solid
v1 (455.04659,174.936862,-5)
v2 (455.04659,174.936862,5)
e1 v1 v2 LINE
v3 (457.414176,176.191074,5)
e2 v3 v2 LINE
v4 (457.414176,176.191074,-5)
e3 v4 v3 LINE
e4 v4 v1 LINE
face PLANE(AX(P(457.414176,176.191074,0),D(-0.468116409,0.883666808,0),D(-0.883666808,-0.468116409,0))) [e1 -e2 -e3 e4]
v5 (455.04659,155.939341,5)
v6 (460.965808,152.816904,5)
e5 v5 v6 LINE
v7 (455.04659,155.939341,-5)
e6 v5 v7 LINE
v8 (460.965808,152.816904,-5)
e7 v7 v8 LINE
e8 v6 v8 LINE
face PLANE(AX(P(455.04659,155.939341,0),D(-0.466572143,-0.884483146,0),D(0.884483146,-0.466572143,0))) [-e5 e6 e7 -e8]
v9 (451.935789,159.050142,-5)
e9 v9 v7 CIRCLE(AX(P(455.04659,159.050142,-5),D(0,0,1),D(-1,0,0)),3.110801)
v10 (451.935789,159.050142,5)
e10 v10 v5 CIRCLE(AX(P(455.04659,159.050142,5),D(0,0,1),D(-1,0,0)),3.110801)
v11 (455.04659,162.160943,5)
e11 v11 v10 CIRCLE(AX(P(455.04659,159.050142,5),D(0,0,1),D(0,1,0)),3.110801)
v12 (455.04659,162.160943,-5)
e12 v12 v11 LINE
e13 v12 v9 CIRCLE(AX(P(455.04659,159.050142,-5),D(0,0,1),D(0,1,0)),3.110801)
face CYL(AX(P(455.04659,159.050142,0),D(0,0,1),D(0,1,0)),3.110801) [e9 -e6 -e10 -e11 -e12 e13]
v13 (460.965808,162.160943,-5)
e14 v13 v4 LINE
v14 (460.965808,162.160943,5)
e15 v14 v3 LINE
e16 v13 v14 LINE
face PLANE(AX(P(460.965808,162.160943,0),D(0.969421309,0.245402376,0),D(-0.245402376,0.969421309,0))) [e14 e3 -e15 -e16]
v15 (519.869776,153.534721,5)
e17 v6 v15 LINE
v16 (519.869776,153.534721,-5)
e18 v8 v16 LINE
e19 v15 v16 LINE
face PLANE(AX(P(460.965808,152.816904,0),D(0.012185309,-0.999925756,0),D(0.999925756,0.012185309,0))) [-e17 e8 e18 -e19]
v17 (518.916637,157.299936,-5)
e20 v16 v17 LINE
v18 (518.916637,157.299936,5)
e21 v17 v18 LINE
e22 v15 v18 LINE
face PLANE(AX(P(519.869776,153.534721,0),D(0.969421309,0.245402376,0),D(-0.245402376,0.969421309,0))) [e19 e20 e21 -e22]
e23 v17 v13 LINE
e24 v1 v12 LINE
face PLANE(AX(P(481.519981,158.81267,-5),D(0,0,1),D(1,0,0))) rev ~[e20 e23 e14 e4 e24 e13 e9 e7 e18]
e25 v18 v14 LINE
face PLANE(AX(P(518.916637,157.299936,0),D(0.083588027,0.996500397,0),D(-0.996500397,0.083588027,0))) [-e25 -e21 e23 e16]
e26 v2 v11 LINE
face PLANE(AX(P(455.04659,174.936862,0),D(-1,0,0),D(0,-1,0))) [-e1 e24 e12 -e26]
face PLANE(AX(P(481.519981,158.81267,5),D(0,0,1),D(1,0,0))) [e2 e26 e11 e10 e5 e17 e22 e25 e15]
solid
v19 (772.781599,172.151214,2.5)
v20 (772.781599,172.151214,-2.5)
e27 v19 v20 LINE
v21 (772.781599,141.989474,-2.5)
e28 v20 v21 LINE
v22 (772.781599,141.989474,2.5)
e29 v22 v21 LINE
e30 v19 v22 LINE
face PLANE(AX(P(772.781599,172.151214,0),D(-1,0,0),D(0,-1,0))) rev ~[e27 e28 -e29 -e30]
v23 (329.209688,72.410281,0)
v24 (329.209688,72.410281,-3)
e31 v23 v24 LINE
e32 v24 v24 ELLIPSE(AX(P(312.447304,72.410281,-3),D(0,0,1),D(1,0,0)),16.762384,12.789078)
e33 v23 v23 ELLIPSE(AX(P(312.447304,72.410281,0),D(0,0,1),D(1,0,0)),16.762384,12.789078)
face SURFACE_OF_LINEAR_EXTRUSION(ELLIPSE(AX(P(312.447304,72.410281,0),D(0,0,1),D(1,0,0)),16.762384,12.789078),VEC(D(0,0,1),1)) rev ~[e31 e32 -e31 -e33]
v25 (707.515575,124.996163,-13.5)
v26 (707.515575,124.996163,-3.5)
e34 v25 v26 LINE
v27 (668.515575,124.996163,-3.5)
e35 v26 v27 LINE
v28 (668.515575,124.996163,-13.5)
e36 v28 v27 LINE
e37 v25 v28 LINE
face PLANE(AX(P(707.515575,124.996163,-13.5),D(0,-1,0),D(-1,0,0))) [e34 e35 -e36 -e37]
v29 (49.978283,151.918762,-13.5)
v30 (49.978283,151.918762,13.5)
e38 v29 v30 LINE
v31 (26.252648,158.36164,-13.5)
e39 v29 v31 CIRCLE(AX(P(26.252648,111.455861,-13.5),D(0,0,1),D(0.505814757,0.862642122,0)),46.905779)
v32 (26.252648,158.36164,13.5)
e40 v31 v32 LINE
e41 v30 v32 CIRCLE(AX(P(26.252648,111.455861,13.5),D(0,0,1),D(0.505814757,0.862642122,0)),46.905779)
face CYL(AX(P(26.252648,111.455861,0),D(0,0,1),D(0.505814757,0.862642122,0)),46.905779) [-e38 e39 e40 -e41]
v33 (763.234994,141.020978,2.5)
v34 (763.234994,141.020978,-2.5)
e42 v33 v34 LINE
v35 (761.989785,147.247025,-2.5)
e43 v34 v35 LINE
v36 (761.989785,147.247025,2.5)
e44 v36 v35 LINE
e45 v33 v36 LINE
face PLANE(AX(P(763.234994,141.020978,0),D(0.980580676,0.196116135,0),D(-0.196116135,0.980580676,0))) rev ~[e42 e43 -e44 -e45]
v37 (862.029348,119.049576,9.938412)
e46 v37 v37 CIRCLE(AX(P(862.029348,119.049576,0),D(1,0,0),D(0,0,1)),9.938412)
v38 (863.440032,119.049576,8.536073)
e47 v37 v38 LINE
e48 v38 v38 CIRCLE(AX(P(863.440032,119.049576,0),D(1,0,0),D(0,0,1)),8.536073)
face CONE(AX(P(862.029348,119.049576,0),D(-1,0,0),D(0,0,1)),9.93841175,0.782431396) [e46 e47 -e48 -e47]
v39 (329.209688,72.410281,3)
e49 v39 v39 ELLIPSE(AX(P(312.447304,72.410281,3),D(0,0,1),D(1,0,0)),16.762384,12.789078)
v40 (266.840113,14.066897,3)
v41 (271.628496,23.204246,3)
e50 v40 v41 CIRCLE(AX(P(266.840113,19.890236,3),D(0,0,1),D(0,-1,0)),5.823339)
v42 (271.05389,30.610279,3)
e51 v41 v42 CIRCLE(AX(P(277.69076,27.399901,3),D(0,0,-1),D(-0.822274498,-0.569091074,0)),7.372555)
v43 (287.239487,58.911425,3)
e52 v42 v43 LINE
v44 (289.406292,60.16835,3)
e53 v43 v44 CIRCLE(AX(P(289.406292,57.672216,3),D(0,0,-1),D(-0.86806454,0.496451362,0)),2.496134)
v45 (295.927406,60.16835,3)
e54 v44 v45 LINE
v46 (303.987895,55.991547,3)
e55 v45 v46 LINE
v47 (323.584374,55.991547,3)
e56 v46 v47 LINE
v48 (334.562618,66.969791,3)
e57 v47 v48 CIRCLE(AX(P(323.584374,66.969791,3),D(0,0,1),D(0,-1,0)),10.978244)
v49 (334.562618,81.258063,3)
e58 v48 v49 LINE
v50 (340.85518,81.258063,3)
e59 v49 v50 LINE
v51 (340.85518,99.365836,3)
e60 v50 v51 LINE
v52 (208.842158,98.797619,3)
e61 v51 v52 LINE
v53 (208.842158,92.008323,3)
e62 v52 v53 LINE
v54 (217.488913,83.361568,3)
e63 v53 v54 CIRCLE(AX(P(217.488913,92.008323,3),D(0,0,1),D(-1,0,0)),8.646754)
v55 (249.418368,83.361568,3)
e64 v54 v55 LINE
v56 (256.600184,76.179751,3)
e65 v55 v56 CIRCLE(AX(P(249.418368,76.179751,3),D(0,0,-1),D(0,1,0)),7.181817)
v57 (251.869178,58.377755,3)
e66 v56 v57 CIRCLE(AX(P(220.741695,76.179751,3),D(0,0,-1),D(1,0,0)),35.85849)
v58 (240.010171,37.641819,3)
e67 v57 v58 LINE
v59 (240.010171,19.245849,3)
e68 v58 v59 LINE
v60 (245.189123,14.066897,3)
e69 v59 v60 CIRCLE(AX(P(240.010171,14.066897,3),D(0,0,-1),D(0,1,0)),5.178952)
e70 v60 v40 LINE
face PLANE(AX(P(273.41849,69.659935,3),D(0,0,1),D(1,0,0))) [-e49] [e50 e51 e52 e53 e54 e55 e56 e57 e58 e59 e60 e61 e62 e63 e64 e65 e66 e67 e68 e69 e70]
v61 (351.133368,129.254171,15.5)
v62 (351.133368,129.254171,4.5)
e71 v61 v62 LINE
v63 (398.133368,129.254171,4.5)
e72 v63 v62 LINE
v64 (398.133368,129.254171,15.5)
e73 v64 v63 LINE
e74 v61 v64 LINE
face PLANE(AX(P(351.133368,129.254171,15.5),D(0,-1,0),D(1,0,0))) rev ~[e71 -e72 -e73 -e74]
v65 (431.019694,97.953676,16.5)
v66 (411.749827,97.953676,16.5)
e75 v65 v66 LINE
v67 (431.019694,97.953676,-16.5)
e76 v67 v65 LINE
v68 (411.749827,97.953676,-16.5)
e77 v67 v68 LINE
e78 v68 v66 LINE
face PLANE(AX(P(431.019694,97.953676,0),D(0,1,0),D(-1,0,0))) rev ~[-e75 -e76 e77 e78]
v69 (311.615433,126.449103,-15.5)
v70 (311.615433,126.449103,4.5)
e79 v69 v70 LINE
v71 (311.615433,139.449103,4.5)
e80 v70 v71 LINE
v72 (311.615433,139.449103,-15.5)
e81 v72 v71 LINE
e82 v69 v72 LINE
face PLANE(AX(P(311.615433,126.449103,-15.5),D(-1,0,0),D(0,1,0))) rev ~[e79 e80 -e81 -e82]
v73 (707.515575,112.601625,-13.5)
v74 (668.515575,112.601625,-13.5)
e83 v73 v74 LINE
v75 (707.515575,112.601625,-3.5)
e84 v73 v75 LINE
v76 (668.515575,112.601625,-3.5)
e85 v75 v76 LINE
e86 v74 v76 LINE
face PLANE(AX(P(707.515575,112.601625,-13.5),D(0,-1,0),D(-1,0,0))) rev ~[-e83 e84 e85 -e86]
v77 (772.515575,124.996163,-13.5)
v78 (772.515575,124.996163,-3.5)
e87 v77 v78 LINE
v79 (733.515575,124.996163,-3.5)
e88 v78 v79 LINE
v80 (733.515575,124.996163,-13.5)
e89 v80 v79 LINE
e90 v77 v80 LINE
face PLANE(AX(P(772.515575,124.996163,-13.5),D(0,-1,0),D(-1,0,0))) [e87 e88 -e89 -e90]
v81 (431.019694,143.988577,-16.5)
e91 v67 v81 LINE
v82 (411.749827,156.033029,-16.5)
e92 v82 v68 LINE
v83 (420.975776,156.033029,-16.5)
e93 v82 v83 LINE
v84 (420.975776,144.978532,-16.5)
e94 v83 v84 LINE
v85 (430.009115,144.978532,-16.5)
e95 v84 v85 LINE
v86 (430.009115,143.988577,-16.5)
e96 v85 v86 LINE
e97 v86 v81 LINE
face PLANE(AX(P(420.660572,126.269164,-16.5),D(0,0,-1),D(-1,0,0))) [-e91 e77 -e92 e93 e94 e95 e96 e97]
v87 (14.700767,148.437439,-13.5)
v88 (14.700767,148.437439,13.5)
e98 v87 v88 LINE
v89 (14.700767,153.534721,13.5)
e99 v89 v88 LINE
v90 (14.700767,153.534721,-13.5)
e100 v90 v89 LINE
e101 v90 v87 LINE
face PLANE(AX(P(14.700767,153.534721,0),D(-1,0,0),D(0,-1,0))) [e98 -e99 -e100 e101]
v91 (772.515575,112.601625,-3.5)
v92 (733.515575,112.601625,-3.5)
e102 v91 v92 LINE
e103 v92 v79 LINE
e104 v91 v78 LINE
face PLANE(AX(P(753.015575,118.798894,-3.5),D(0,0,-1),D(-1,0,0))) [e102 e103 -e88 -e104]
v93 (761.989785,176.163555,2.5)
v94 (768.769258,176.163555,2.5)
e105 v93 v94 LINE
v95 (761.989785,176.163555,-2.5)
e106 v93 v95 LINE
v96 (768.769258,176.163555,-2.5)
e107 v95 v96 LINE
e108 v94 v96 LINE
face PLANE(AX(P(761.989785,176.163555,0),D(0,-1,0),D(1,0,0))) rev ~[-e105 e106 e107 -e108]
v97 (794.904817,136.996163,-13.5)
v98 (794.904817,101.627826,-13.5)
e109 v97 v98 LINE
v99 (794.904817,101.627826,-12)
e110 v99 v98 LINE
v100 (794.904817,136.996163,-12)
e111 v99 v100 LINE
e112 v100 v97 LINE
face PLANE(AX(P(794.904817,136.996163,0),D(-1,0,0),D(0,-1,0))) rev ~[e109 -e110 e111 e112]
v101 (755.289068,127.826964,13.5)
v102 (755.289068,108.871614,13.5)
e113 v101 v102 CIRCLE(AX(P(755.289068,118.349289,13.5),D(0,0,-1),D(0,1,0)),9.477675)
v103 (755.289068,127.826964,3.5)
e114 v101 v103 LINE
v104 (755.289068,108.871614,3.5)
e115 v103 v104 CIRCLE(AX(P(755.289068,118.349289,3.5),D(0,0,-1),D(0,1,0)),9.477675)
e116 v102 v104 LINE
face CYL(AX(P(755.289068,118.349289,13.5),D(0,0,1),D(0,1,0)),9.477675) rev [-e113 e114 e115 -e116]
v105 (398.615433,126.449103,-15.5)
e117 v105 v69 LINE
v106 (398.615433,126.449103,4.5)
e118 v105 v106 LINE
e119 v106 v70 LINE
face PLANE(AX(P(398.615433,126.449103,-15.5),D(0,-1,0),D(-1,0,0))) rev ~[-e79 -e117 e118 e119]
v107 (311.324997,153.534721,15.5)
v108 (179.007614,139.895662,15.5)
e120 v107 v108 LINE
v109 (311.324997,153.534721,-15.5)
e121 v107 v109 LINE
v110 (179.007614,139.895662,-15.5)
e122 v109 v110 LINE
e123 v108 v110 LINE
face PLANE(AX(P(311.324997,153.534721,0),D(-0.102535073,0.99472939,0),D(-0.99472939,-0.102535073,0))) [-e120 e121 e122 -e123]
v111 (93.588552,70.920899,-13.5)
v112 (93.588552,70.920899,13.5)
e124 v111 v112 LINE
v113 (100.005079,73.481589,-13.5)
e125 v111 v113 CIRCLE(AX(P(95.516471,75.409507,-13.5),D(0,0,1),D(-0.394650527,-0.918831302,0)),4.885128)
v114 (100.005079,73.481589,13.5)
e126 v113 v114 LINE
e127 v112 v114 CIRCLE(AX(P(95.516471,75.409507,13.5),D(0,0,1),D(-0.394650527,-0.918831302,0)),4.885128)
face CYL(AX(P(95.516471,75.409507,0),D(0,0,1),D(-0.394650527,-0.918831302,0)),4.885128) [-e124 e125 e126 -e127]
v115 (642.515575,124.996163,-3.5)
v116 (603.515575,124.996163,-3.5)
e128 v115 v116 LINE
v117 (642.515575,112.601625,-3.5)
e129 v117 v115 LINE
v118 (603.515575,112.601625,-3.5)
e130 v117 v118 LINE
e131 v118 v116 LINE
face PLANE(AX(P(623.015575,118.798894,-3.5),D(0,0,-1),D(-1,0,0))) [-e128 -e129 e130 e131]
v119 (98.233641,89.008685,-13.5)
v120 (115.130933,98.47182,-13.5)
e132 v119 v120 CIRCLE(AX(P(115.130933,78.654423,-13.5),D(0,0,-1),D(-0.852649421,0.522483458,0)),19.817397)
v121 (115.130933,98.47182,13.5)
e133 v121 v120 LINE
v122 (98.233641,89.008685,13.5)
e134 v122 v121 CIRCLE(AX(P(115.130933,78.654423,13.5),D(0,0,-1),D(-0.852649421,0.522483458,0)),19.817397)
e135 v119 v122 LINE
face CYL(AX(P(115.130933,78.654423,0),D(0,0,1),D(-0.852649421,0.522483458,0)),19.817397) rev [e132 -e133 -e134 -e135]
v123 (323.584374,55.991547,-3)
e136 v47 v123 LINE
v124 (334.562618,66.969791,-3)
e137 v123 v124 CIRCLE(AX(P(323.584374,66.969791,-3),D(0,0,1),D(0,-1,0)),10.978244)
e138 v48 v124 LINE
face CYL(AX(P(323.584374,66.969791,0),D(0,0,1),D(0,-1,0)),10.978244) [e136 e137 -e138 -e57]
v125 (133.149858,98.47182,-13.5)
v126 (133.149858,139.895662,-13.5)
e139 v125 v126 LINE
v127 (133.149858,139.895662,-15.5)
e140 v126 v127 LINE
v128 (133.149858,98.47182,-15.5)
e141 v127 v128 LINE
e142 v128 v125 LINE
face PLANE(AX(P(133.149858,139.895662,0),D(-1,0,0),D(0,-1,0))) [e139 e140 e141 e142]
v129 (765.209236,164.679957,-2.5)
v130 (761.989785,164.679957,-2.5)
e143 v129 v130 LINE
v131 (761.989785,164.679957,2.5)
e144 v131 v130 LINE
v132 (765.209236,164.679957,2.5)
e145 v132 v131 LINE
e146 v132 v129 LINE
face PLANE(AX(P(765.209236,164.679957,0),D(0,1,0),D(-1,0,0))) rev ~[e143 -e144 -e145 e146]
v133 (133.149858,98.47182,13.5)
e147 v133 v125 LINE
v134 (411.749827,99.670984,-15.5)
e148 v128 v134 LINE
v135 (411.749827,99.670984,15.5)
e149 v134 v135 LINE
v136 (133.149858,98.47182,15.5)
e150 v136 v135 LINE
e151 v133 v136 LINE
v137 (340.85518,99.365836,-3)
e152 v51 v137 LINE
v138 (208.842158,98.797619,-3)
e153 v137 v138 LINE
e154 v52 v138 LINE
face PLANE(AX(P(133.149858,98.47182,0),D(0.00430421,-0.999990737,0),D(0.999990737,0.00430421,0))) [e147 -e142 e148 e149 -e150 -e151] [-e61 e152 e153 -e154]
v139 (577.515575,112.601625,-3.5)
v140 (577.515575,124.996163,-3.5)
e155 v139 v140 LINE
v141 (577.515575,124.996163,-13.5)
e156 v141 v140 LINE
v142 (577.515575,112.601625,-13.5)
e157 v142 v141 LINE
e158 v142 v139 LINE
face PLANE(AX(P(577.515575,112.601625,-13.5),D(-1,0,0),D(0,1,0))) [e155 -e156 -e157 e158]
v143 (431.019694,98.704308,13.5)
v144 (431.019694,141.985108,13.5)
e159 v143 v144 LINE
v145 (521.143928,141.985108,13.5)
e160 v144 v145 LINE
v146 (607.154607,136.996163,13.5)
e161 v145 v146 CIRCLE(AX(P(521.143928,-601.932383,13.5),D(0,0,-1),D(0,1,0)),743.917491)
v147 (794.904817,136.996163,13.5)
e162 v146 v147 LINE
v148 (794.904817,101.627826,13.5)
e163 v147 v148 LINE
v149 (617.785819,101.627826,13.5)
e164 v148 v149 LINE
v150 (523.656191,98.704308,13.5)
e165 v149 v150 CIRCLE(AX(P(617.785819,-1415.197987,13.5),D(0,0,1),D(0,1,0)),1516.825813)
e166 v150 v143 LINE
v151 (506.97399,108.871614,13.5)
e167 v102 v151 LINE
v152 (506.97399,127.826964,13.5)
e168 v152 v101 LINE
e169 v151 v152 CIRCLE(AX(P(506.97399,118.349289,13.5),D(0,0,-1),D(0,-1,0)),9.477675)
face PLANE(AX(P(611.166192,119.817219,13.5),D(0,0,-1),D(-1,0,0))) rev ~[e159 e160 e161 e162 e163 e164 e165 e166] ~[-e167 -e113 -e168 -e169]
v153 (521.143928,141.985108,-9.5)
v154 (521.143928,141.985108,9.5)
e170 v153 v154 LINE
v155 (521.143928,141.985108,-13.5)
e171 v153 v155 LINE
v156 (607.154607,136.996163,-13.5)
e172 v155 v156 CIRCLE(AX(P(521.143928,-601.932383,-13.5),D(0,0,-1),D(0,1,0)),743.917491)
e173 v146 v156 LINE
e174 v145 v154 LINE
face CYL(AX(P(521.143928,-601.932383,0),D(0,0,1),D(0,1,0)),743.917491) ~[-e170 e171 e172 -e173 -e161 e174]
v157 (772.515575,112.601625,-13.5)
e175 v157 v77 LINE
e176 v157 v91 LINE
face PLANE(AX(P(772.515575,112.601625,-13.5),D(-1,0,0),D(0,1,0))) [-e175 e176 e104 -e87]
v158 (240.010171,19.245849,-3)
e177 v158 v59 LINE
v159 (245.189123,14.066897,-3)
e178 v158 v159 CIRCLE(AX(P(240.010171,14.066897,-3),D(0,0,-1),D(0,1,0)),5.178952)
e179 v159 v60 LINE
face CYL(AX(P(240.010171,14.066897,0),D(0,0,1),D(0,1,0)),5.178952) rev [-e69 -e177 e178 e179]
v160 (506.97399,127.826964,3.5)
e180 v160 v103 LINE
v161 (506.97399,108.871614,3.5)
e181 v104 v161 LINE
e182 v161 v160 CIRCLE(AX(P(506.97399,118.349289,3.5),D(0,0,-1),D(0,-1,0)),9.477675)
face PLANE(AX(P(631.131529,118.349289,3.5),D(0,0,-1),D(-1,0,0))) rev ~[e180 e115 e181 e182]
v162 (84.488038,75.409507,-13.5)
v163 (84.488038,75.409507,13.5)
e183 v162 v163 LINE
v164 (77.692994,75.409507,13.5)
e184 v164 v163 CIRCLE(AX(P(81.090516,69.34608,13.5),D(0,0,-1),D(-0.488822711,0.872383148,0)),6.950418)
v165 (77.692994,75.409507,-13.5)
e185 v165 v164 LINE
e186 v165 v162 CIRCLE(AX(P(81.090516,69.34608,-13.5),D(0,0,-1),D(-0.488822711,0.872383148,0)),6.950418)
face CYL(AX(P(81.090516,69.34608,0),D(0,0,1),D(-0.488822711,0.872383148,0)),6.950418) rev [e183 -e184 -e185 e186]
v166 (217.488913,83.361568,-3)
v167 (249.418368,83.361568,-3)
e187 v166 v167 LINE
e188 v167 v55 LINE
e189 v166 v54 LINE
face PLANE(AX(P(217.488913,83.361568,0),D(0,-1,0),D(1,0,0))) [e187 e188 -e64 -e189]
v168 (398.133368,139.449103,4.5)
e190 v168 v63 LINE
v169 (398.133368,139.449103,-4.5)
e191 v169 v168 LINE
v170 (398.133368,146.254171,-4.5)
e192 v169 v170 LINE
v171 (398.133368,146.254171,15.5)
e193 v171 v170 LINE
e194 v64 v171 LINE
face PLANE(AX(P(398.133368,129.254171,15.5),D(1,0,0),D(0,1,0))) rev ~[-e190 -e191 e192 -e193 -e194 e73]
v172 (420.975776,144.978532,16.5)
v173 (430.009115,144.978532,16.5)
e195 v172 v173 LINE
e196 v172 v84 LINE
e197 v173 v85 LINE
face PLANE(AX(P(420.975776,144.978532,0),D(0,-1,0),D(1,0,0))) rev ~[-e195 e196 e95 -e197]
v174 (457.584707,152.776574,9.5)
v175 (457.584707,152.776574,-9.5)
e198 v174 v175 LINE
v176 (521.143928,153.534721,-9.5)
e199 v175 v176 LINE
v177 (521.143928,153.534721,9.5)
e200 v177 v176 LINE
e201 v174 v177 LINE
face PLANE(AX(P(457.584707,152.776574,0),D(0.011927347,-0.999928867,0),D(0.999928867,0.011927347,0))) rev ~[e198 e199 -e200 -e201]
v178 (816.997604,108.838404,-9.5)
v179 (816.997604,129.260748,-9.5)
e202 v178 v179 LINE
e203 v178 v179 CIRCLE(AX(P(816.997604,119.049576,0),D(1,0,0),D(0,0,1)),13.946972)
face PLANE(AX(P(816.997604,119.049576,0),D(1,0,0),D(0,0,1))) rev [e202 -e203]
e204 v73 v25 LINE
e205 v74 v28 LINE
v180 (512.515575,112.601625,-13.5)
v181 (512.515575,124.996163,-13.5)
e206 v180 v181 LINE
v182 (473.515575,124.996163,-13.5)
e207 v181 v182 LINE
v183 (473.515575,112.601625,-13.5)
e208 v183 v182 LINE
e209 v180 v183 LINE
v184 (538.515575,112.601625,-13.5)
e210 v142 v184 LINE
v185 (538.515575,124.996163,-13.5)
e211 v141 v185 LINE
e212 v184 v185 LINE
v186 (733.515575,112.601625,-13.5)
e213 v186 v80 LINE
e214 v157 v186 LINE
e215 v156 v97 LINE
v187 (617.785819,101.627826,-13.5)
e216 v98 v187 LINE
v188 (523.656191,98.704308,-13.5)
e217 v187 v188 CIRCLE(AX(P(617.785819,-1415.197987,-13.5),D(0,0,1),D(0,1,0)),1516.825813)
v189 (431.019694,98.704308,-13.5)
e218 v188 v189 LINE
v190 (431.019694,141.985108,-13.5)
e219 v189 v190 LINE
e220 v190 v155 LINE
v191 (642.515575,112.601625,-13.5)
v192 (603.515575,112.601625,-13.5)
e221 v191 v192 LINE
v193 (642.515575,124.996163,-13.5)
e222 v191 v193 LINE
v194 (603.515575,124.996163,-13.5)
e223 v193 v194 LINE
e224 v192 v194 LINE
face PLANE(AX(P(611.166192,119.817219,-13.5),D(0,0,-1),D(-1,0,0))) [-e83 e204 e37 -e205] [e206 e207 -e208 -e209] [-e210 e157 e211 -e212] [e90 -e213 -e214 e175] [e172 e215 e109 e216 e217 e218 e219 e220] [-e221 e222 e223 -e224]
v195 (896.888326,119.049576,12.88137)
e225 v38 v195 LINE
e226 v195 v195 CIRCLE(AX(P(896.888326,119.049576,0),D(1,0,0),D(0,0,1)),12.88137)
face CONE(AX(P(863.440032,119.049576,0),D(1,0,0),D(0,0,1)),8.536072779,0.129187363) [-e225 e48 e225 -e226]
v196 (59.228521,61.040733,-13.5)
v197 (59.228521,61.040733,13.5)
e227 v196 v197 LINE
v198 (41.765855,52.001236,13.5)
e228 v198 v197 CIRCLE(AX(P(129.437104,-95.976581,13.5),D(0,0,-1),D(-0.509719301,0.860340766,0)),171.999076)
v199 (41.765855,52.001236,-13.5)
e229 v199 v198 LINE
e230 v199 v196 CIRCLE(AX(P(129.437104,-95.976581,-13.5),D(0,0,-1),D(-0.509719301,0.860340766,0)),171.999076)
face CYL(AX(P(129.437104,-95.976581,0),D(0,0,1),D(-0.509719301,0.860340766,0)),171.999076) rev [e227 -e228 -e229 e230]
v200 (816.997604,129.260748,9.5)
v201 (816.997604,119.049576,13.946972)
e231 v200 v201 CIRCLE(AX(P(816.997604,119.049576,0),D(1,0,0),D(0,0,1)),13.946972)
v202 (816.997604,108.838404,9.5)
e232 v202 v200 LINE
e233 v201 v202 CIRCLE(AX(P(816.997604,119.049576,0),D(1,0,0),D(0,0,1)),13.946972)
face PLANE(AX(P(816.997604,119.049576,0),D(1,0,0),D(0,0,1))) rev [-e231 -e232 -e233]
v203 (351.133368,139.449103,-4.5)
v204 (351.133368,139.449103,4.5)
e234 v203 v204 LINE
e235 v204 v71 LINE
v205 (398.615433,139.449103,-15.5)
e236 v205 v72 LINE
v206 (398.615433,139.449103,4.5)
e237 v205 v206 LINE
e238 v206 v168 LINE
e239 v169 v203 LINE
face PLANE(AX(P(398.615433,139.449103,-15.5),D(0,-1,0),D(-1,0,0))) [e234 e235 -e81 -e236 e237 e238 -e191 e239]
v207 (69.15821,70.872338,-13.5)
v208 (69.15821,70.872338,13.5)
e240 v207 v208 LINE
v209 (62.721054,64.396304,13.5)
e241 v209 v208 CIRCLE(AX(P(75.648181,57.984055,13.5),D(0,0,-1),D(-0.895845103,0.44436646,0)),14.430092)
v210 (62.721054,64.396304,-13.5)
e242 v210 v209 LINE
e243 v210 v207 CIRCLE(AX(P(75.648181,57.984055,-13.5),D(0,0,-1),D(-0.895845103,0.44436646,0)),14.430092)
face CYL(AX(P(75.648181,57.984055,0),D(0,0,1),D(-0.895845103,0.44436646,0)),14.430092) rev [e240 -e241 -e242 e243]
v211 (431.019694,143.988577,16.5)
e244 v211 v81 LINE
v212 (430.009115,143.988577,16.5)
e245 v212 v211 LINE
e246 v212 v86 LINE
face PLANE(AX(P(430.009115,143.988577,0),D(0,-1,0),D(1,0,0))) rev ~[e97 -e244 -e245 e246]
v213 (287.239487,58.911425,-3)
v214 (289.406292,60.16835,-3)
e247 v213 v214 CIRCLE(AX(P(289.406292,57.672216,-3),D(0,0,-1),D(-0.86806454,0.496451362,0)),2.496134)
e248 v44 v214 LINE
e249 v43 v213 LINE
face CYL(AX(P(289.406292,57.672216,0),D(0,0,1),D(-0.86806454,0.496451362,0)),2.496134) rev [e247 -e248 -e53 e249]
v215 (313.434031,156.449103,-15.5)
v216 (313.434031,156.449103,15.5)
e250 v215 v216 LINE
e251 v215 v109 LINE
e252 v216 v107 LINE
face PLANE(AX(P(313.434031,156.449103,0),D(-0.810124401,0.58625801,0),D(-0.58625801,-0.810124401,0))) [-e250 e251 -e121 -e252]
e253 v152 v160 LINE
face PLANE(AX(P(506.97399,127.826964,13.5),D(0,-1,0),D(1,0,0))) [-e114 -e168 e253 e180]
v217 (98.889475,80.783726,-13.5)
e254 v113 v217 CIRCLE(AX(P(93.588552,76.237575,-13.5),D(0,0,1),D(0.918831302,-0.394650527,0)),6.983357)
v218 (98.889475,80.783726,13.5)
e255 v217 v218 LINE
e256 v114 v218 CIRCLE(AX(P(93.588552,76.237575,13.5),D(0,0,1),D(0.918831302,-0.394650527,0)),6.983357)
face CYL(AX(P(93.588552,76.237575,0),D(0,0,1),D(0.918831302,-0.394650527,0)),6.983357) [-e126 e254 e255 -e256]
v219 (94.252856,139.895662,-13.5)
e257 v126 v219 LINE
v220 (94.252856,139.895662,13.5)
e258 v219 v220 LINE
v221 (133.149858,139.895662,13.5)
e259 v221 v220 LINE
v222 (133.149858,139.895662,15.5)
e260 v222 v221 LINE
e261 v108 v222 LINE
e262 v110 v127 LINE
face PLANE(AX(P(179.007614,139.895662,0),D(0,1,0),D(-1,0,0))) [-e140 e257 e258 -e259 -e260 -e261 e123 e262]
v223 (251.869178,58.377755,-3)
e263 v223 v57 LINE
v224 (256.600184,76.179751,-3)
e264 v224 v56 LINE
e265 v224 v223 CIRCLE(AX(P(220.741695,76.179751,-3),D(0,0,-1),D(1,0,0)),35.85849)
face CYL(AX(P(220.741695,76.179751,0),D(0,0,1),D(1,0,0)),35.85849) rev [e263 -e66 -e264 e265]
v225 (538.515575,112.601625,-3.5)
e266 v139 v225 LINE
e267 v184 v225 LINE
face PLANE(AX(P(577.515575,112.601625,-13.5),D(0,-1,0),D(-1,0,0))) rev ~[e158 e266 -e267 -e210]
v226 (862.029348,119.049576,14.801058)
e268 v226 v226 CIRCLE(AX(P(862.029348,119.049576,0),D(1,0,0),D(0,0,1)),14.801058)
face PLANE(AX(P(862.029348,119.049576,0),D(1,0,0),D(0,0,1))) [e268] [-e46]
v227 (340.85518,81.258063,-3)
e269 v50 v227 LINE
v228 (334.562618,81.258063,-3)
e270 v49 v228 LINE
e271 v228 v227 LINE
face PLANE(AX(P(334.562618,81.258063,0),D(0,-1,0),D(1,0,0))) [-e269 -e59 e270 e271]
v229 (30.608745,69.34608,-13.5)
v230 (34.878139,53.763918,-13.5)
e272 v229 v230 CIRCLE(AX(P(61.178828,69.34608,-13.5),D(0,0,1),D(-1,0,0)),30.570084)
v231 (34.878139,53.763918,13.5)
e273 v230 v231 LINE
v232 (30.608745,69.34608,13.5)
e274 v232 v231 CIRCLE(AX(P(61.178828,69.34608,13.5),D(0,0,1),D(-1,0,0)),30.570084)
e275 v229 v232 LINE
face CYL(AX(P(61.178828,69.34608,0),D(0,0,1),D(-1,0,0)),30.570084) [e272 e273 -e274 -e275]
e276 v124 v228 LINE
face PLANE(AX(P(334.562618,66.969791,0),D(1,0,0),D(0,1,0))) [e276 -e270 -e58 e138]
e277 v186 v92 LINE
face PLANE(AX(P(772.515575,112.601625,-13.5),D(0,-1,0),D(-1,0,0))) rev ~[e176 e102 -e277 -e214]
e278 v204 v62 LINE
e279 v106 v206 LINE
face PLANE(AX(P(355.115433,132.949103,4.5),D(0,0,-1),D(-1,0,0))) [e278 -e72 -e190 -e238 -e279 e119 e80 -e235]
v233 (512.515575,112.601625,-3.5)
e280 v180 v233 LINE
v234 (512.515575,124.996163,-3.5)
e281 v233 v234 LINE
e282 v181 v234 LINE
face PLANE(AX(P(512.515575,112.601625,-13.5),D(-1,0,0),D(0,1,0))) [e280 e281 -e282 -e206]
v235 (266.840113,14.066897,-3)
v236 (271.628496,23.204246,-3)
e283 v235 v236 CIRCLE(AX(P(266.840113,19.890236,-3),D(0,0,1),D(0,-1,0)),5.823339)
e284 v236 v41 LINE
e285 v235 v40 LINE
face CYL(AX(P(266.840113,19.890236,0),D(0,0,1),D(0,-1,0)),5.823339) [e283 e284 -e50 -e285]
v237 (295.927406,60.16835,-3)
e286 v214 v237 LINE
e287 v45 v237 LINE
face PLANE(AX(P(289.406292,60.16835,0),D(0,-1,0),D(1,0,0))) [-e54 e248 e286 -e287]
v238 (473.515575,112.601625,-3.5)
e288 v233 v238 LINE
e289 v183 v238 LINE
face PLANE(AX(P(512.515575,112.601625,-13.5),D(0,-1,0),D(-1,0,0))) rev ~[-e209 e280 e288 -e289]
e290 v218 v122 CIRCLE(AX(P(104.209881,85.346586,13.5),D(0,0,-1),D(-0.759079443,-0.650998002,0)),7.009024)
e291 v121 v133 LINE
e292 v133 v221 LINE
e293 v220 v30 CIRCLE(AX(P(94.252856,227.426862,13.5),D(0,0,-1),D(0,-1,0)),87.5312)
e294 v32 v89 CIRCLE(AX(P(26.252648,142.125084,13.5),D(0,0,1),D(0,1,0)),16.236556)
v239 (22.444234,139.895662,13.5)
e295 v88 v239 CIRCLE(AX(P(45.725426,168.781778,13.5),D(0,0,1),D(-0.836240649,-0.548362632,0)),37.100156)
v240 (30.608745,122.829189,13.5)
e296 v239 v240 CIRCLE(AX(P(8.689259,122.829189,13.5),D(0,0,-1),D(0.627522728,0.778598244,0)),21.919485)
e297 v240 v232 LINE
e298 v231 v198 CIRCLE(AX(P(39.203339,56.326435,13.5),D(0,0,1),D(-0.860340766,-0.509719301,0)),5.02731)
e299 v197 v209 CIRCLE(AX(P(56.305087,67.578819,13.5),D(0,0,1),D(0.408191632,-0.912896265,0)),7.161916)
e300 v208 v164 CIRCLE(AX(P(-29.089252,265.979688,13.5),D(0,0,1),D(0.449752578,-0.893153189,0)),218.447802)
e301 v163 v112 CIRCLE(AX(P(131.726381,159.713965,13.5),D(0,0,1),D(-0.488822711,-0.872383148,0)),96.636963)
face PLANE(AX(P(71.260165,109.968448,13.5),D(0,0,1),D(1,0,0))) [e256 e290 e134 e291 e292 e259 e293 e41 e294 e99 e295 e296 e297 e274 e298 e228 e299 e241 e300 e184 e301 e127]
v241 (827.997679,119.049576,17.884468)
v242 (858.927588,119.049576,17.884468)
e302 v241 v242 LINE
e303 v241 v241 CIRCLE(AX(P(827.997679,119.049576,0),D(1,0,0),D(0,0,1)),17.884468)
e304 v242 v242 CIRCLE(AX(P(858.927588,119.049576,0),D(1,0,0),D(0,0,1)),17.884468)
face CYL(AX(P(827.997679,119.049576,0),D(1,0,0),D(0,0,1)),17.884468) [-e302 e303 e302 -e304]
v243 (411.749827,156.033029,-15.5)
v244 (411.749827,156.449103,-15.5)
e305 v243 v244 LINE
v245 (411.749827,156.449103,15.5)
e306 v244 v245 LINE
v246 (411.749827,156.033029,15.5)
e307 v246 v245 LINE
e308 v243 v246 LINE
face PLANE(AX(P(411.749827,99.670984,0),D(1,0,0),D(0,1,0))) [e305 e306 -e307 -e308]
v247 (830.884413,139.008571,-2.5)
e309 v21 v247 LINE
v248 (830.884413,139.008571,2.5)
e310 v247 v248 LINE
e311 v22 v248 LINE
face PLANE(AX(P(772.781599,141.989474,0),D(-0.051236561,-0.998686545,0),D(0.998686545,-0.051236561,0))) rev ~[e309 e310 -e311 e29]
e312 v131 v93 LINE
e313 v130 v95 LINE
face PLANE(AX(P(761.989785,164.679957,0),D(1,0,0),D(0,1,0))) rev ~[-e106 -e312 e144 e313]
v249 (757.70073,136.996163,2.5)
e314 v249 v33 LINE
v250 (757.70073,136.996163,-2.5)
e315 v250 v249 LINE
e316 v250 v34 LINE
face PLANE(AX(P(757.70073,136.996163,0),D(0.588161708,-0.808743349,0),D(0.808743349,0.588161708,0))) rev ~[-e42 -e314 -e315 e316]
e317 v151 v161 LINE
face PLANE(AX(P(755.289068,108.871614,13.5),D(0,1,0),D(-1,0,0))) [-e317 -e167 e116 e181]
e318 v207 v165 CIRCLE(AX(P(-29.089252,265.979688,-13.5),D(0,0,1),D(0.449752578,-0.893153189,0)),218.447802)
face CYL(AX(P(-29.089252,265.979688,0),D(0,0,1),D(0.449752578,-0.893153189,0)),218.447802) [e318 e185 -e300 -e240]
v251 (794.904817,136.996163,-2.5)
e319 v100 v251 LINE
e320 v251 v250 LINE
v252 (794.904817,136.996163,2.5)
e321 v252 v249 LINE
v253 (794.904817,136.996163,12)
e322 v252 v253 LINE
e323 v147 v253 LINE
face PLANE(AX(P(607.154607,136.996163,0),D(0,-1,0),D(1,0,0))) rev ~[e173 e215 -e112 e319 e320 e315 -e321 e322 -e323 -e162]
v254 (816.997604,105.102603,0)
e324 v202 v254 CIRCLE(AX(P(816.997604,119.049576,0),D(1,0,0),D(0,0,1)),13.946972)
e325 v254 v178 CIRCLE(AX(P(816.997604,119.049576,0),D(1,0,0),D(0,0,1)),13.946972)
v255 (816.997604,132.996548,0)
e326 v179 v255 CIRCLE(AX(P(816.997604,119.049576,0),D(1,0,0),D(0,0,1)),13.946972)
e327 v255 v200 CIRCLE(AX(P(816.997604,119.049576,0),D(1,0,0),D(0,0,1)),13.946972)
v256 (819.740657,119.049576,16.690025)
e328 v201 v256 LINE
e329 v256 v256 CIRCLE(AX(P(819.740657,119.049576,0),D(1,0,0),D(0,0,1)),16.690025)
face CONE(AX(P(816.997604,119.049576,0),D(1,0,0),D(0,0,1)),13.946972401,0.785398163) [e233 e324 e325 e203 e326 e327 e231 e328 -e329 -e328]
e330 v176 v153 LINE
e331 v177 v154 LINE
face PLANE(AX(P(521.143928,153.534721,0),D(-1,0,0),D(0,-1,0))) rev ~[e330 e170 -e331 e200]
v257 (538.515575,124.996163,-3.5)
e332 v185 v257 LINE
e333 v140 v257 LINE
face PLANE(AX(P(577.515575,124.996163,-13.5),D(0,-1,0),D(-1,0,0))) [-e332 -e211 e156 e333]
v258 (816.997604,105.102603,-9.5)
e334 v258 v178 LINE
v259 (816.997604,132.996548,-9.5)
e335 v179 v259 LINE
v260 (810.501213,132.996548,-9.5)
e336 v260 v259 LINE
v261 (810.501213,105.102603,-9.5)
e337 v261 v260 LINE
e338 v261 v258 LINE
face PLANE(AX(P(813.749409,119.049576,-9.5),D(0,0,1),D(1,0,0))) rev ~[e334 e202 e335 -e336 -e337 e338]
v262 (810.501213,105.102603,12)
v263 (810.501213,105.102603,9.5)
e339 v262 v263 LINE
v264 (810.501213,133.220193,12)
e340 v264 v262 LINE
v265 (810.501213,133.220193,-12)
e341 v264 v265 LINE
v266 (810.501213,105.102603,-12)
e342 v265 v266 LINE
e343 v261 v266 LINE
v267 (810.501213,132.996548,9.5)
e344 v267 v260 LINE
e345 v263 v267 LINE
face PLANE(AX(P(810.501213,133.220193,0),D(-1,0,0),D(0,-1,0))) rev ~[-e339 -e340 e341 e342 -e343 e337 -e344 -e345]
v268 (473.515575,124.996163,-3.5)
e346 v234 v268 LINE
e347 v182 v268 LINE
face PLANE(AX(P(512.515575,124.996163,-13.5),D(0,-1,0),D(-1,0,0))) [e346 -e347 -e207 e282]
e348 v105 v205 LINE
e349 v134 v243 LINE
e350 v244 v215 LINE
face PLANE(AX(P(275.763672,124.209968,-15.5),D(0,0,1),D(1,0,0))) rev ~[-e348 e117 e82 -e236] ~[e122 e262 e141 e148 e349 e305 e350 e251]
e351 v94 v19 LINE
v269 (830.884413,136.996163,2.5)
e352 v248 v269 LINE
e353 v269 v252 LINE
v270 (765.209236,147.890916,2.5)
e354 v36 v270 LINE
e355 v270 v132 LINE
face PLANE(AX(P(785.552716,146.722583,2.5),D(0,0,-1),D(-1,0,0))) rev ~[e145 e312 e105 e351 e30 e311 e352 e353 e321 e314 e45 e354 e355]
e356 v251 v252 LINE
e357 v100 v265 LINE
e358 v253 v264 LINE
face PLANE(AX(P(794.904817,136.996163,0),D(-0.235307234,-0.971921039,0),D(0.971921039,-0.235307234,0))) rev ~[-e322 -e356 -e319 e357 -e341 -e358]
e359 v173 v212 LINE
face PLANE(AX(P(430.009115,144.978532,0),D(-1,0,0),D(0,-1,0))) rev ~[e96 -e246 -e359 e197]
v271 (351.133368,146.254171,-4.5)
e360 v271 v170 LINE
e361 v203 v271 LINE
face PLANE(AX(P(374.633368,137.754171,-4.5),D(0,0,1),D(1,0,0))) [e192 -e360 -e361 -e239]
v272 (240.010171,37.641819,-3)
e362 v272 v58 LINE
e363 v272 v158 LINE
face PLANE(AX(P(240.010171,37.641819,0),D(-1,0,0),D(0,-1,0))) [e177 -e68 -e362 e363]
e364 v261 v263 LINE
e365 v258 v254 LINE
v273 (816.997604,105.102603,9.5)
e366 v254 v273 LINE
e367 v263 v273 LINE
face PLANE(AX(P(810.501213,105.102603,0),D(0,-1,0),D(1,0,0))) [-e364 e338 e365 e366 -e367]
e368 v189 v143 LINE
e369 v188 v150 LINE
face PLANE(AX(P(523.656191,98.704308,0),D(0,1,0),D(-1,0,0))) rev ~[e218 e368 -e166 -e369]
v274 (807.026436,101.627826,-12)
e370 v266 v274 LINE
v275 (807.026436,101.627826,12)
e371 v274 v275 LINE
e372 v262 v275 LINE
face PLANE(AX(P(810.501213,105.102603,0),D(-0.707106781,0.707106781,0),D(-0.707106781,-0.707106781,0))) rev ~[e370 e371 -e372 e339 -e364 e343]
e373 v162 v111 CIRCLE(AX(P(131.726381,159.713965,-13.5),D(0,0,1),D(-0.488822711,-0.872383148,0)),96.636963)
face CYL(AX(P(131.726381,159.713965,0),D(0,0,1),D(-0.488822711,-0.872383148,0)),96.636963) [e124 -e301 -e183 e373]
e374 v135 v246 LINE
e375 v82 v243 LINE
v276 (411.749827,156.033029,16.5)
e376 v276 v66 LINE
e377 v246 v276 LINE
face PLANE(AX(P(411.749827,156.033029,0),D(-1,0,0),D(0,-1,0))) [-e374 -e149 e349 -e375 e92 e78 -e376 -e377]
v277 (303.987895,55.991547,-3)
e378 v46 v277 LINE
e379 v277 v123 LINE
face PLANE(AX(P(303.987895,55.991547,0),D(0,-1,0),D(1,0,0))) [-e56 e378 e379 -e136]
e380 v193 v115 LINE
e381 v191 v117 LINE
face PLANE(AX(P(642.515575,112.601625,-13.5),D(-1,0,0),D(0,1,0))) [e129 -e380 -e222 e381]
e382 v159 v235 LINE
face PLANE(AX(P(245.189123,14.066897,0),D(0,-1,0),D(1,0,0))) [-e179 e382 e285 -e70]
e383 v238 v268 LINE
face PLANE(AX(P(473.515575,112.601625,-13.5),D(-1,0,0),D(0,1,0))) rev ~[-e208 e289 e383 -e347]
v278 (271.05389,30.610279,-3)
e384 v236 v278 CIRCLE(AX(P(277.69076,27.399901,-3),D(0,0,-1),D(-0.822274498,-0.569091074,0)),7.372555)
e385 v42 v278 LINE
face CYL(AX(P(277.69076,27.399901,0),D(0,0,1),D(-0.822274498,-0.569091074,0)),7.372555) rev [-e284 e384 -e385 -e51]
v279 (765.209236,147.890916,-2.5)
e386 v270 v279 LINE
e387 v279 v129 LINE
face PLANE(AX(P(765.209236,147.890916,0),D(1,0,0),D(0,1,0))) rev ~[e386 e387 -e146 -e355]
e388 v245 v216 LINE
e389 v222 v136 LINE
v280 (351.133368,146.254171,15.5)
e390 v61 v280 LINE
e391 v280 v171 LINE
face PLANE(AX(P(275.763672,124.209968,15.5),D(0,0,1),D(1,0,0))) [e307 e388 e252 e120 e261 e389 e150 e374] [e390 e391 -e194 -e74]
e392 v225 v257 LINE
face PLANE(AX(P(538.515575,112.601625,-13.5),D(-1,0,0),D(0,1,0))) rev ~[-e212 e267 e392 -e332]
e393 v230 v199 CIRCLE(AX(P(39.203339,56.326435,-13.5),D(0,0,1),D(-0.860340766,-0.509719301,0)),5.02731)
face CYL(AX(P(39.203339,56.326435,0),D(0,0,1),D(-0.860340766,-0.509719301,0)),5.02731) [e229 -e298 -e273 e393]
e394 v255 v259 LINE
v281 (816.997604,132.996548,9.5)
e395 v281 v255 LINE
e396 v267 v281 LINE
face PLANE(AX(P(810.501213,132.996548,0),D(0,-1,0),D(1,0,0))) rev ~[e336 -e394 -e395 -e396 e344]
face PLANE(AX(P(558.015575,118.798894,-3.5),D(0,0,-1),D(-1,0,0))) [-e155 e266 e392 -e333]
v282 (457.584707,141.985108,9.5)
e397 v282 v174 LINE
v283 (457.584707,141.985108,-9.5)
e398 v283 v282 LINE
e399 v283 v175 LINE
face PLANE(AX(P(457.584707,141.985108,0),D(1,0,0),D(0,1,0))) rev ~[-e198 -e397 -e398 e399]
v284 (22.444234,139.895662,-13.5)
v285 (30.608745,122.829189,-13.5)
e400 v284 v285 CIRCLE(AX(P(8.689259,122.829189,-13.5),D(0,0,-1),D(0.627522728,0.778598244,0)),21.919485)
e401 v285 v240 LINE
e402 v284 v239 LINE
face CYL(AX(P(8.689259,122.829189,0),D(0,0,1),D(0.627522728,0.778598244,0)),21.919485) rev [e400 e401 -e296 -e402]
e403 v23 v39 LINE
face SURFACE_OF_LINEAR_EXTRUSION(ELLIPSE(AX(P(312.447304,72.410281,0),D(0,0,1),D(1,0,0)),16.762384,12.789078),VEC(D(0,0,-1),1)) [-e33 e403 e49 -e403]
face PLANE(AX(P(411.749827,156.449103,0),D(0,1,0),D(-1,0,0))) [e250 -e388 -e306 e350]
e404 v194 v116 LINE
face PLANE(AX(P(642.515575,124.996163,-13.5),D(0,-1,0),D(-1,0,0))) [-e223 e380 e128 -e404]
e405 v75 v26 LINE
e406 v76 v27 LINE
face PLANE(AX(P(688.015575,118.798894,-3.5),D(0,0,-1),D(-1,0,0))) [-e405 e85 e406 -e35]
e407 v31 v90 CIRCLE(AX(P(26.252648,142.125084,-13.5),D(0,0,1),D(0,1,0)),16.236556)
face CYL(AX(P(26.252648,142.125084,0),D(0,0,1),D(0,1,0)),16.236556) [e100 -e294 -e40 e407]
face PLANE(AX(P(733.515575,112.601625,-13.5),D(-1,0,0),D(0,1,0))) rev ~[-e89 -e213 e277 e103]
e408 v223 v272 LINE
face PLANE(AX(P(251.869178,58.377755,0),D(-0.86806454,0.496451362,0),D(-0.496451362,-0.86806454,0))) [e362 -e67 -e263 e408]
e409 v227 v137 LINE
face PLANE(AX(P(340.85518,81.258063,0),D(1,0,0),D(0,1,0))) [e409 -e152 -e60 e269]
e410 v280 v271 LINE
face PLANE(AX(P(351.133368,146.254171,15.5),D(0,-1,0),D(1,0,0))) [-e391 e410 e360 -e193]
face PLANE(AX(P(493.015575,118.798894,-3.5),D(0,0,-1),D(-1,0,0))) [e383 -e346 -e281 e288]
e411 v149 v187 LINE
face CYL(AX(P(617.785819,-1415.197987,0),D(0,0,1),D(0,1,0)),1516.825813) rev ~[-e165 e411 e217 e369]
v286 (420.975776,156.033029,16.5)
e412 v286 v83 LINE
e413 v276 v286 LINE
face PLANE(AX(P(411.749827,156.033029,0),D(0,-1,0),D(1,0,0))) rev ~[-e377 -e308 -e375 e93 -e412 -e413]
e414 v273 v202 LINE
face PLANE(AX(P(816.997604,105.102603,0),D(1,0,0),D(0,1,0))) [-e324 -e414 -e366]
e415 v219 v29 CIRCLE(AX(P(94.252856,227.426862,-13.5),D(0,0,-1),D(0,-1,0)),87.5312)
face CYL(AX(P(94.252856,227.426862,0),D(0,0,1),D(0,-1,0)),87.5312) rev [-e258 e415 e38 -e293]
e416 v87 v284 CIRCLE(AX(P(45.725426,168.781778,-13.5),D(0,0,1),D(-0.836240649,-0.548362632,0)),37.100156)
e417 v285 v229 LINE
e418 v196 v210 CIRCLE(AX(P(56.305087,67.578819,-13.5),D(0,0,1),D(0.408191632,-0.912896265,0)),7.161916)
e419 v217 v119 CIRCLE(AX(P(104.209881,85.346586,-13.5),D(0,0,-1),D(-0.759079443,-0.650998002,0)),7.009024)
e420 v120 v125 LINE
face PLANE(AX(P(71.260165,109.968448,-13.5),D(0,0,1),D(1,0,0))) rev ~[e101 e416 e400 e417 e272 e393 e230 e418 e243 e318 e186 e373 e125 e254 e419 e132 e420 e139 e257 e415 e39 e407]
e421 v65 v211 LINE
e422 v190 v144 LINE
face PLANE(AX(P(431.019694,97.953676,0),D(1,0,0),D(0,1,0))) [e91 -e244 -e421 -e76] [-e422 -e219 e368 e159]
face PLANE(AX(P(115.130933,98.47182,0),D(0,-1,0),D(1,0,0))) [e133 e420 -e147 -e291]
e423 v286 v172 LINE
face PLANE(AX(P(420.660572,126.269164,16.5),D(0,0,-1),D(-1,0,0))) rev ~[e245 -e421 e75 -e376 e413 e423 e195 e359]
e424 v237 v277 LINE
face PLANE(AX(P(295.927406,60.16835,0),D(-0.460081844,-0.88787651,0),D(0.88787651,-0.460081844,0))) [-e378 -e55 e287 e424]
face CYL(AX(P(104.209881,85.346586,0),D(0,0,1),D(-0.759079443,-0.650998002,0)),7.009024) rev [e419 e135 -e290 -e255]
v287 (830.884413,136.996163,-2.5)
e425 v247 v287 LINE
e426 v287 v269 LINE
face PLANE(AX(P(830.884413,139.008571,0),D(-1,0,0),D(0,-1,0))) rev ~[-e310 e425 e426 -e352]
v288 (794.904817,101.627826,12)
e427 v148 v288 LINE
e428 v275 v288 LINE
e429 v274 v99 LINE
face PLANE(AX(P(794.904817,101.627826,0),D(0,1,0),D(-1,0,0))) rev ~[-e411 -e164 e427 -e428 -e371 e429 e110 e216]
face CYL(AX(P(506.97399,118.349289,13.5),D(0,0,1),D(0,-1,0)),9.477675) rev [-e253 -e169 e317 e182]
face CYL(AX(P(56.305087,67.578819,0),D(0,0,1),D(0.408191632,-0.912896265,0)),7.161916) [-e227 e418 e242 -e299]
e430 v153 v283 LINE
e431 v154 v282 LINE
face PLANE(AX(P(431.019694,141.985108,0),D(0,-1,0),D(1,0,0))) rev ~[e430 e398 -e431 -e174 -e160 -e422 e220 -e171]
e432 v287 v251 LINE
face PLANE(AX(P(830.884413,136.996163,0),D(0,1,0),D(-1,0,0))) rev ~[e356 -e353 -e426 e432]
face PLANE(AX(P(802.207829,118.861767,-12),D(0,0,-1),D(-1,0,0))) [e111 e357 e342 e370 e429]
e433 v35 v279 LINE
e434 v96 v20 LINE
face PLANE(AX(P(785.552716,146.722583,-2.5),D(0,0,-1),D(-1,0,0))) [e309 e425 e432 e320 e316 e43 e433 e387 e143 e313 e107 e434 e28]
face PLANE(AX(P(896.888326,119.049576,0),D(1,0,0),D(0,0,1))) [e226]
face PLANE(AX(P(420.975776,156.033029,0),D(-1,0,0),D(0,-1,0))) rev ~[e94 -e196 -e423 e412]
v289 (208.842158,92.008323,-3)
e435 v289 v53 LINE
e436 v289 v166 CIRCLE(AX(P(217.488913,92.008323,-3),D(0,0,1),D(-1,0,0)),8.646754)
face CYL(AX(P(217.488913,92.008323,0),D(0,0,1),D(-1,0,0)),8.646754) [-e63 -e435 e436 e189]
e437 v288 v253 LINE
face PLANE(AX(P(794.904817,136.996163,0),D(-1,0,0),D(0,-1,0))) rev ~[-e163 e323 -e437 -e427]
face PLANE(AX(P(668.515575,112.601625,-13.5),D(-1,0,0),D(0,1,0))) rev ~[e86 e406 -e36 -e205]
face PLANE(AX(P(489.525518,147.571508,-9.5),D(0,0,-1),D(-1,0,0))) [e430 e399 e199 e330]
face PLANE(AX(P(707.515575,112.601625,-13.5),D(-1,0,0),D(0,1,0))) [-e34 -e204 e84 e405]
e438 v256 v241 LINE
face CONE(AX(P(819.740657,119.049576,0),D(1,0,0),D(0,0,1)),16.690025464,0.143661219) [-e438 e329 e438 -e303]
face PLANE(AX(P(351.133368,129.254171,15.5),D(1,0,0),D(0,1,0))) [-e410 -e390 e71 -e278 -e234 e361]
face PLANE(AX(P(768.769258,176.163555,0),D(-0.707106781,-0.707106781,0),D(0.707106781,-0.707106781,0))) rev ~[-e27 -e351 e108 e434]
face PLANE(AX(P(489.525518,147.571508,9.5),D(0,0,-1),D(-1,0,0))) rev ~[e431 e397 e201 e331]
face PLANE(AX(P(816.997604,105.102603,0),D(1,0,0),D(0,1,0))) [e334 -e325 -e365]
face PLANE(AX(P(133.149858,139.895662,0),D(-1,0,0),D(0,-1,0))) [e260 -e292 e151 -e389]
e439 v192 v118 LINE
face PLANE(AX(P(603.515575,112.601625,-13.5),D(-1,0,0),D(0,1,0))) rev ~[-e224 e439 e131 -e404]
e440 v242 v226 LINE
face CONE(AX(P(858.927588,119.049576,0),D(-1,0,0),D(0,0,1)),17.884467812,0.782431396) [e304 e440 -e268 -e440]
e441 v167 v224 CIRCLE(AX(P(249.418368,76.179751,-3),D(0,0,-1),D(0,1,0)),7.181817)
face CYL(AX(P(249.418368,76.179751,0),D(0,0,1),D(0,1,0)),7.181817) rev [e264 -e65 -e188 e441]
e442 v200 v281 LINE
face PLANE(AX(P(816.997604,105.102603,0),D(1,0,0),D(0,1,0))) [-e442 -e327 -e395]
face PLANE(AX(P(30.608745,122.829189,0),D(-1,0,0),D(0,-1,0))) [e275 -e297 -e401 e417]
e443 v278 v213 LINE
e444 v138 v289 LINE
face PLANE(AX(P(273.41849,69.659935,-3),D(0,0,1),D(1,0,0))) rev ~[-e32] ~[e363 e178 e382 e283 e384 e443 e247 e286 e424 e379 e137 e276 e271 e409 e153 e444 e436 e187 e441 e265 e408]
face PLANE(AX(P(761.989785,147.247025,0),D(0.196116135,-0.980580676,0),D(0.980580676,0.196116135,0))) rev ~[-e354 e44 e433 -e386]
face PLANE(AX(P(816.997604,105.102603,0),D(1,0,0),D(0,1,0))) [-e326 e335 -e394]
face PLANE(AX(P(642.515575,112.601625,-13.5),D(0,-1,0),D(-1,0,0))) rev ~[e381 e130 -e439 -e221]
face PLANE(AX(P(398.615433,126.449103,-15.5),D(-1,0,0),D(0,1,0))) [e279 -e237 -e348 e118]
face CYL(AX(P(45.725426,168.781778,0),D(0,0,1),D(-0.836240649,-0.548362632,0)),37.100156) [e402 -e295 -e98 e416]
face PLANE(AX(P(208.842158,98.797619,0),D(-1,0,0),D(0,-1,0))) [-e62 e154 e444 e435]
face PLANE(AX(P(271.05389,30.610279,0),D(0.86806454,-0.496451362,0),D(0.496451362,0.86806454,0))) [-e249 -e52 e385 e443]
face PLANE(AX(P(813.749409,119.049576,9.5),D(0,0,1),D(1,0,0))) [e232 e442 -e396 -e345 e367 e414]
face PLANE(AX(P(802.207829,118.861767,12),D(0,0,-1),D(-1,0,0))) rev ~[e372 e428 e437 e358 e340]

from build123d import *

# Parameters (mm, degrees)
BOSS_EXTRUDE1_DEPTH  = 15.5
BOSS_EXTRUDE2_DEPTH  = 16.5
BOSS_EXTRUDE3_DEPTH  = 13.5
BOSS_EXTRUDE4_DEPTH  = 13.5
BOSS_EXTRUDE5_DEPTH  = 12
SKETCH8_W            = 6.496390684
SKETCH8_H            = 27.893944802
BOSS_EXTRUDE6_DEPTH  = 9.5
BOSS_EXTRUDE7_DEPTH  = 9.5
BOSS_EXTRUDE8_DEPTH  = 5
BOSS_EXTRUDE9_DEPTH  = 2.5
SKETCH12_RX          = 16.762384294
SKETCH12_RY          = 12.789078387
BOSS_EXTRUDE10_DEPTH = 3
CUT_EXTRUDE1_DEPTH   = 10
SKETCH15_W           = 39
SKETCH15_H           = 12.394538065
CUT_EXTRUDE2_DEPTH   = 10
LPATTERN1_COUNT      = 5
LPATTERN1_PITCH      = 65
SKETCH16_W           = 87
SKETCH16_H           = 13
CUT_EXTRUDE3_DEPTH   = 20
SKETCH17_W           = 47
SKETCH17_H           = 17
CUT_EXTRUDE4_DEPTH   = 20


with BuildPart() as part:
    # Sketch3 → Boss-Extrude1 (new, symmetric)
    with BuildSketch(Plane.XY):
        Polygon((133.149858051, 139.895661973), (133.149858051, 98.471820279), (411.749827309, 99.670984239), (411.749827309, 156.44910347), (313.434031377, 156.44910347), (311.324996959, 153.534720699), (179.007614185, 139.895661973), align=None)
    extrude(amount=BOSS_EXTRUDE1_DEPTH, both=True)

    # Sketch4 → Boss-Extrude2 (add, symmetric)
    with BuildSketch(Plane.XY):
        Polygon((411.749827309, 156.033029169), (420.975775825, 156.033029169), (420.975775825, 144.978532204), (430.009114764, 144.978532204), (430.009114764, 143.988577252), (431.019693777, 143.988577252), (431.019693777, 141.994324915), (431.019693777, 97.953675999), (411.749827309, 97.953675999), (411.749827309, 99.670984239), align=None)
    extrude(amount=BOSS_EXTRUDE2_DEPTH, both=True)

    # Sketch5 → Boss-Extrude3 (add, symmetric)
    with BuildSketch(Plane.XY):
        with BuildLine():
            Line((133.149858051, 139.895661973), (94.252855504, 139.895661973))
            ThreePointArc((94.252855504, 139.895661973), (71.313845446, 142.954897437), (49.978282681, 151.918761872))
            ThreePointArc((49.978282681, 151.918761872), (38.545088727, 156.722272414), (26.252647511, 158.361640112))
            ThreePointArc((26.252647511, 158.361640112), (19.992753467, 157.106388363), (14.700767025, 153.534720699))
            Line((14.700767025, 153.534720699), (14.700767025, 148.437439097))
            ThreePointArc((14.700767025, 148.437439097), (18.238668479, 143.863918039), (22.444234475, 139.895661973))
            ThreePointArc((22.444234475, 139.895661973), (28.462546977, 132.28862519), (30.608744585, 122.82918917))
            Line((30.608744585, 122.82918917), (30.608744585, 69.346080174))
            ThreePointArc((30.608744585, 69.346080174), (31.695406767, 61.267845658), (34.878139046, 53.763918499))
            ThreePointArc((34.878139046, 53.763918499), (37.956933722, 51.456084346), (41.765855495, 52.001235761))
            ThreePointArc((41.765855495, 52.001235761), (50.367903613, 56.770738529), (59.228520707, 61.040733047))
            ThreePointArc((59.228520707, 61.040733047), (61.267048723, 62.414327993), (62.721053749, 64.396304009))
            ThreePointArc((62.721053749, 64.396304009), (65.413891541, 68.156904958), (69.158209867, 70.872337731))
            ThreePointArc((69.158209867, 70.872337731), (73.450700222, 73.093711085), (77.692994463, 75.409507404))
            ThreePointArc((77.692994463, 75.409507404), (81.090516464, 76.296497825), (84.488038465, 75.409507404))
            ThreePointArc((84.488038465, 75.409507404), (88.979339547, 73.045671959), (93.588552357, 70.920898865))
            ThreePointArc((93.588552357, 70.920898865), (97.327152104, 70.872337731), (100.005079243, 73.481589057))
            ThreePointArc((100.005079243, 73.481589057), (100.491809305, 77.292238781), (98.889475004, 80.783725895))
            ThreePointArc((98.889475004, 80.783725895), (97.223033107, 84.789475542), (98.233640809, 89.00868529))
            ThreePointArc((98.233640809, 89.00868529), (105.447578681, 95.944937223), (115.130933085, 98.471820279))
            Line((115.130933085, 98.471820279), (133.149858051, 98.471820279))
            Line((133.149858051, 98.471820279), (133.149858051, 139.895661973))
        make_face()
    extrude(amount=BOSS_EXTRUDE3_DEPTH, both=True)

    # Sketch6 → Boss-Extrude4 (add, symmetric)
    with BuildSketch(Plane.XY):
        with BuildLine():
            Line((431.019693777, 141.985108027), (521.143927742, 141.985108027))
            ThreePointArc((521.143927742, 141.985108027), (564.221550984, 140.736824542), (607.154606888, 136.996163292))
            Line((607.154606888, 136.996163292), (794.904816514, 136.996163292))
            Line((794.904816514, 136.996163292), (794.904816514, 101.627825911))
            Line((794.904816514, 101.627825911), (617.7858187, 101.627825911))
            ThreePointArc((617.7858187, 101.627825911), (570.698310194, 100.896770347), (523.656190664, 98.704308341))
            Line((523.656190664, 98.704308341), (431.019693777, 98.704308341))
            Line((431.019693777, 98.704308341), (431.019693777, 141.985108027))
        make_face()
    extrude(amount=BOSS_EXTRUDE4_DEPTH, both=True)

    # Sketch7 → Boss-Extrude5 (add, symmetric)
    with BuildSketch(Plane.XY):
        Polygon((794.904816514, 136.996163292), (810.501213197, 133.220193001), (810.501213197, 105.102603394), (807.026435715, 101.627825911), (794.904816514, 101.627825911), align=None)
    extrude(amount=BOSS_EXTRUDE5_DEPTH, both=True)

    # Sketch8 → Boss-Extrude6 (add, symmetric)
    with BuildSketch(Plane.XY):
        with Locations((813.749408539, 119.049575795)):
            Rectangle(SKETCH8_W, SKETCH8_H)
    extrude(amount=BOSS_EXTRUDE6_DEPTH, both=True)

    # Sketch9 → Boss-Extrude7 (add, symmetric)
    with BuildSketch(Plane.XY):
        Polygon((457.584707407, 141.985108027), (457.584707407, 152.776573918), (521.143927742, 153.534720699), (521.143927742, 141.985108027), align=None)
    extrude(amount=BOSS_EXTRUDE7_DEPTH, both=True)

    # Sketch11 → Boss-Extrude9 (add, symmetric)
    with BuildSketch(Plane.XY):
        Polygon((757.700729864, 136.996163292), (763.234993942, 141.020978106), (761.989784524, 147.247025193), (765.209236223, 147.890915533), (765.209236223, 164.679957037), (761.989784524, 164.679957037), (761.989784524, 176.163554998), (768.769258019, 176.163554998), (772.781599476, 172.151213542), (772.781599476, 141.989474319), (830.884412859, 139.008570699), (830.884412859, 136.996163292), align=None)
    extrude(amount=BOSS_EXTRUDE9_DEPTH, both=True)

    # Sketch12 → Boss-Extrude10 (add, symmetric)
    with BuildSketch(Plane.XY):
        with BuildLine():
            Line((208.842158386, 98.797618874), (208.842158386, 92.008322654))
            ThreePointArc((208.842158386, 92.008322654), (211.374734093, 85.894144033), (217.488912713, 83.361568326))
            Line((217.488912713, 83.361568326), (249.418367521, 83.361568326))
            ThreePointArc((249.418367521, 83.361568326), (254.496678976, 81.258062848), (256.600184454, 76.179751393))
            ThreePointArc((256.600184454, 76.179751393), (255.397255812, 66.969790939), (251.869178098, 58.377755294))
            Line((251.869178098, 58.377755294), (240.010170569, 37.641818809))
            Line((240.010170569, 37.641818809), (240.010170569, 19.245849473))
            ThreePointArc((240.010170569, 19.245849473), (243.672242968, 17.72896942), (245.189123022, 14.066897021))
            Line((245.189123022, 14.066897021), (266.840112738, 14.066897021))
            ThreePointArc((266.840112738, 14.066897021), (271.998110462, 17.187212495), (271.628495834, 23.204246166))
            ThreePointArc((271.628495834, 23.204246166), (270.340295157, 26.829606572), (271.053889863, 30.610278688))
            Line((271.053889863, 30.610278688), (287.239486775, 58.9114252))
            ThreePointArc((287.239486775, 58.9114252), (288.153804085, 59.831372974), (289.4062922, 60.168350083))
            Line((289.4062922, 60.168350083), (295.92740565, 60.168350083))
            Line((295.92740565, 60.168350083), (303.987895413, 55.99154739))
            Line((303.987895413, 55.99154739), (323.584374238, 55.99154739))
            ThreePointArc((323.584374238, 55.99154739), (331.347164696, 59.20700048), (334.562617786, 66.969790939))
            Line((334.562617786, 66.969790939), (334.562617786, 81.258062848))
            Line((334.562617786, 81.258062848), (340.855180353, 81.258062848))
            Line((340.855180353, 81.258062848), (340.855180353, 99.365835944))
            Line((340.855180353, 99.365835944), (208.842158386, 98.797618874))
        make_face()
        with Locations((312.447304179, 72.410281153)):
            Ellipse(SKETCH12_RX, SKETCH12_RY, mode=Mode.SUBTRACT)
    extrude(amount=BOSS_EXTRUDE10_DEPTH, both=True)

    # Sketch13 → Revolve21 (revolve)
    with BuildSketch(Plane.XY, mode=Mode.PRIVATE) as revolve21_sk:
        Polygon((816.997603881, 119.049575795), (816.997603881, 132.996548196), (819.740656944, 135.739601259), (827.99767889, 136.934043607), (858.927588214, 136.934043607), (862.029347768, 133.850634066), (862.029347768, 128.987987545), (863.440032351, 127.585648574), (896.888326318, 131.930945848), (896.888326318, 119.049575795), align=None)
    revolve(revolve21_sk.sketch.rotate(Axis((816.997603881, 119.049575795, 0), (1, 0, 0)), 90), axis=Axis((816.997603881, 119.049575795, 0), (1, 0, 0)))

    # Sketch14 → Cut-Extrude1 (cut)
    with BuildSketch(Plane.XY.offset(13.5)):
        with BuildLine():
            Line((506.973990238, 127.826963558), (755.289068279, 127.826963558))
            ThreePointArc((755.289068279, 127.826963558), (764.766743013, 118.349288824), (755.289068279, 108.87161409))
            Line((755.289068279, 108.87161409), (506.973990238, 108.87161409))
            ThreePointArc((506.973990238, 108.87161409), (497.496315503, 118.349288824), (506.973990238, 127.826963558))
        make_face()
    extrude(amount=-CUT_EXTRUDE1_DEPTH, mode=Mode.SUBTRACT)

    # Sketch15 → Cut-Extrude2 (cut)
    with BuildSketch(Plane(origin=(0, 0, -13.5), x_dir=(-1, 0, 0), z_dir=(0, 0, -1))):
        with Locations((-753.015574956, 118.79889426)):
            Rectangle(SKETCH15_W, SKETCH15_H)
    cut_extrude2 = extrude(amount=-CUT_EXTRUDE2_DEPTH, mode=Mode.SUBTRACT)

    # LPattern1: Cut-Extrude2 ×5
    with Locations(*[(-i * LPATTERN1_PITCH, 0, 0) for i in range(1, LPATTERN1_COUNT)]):
        add(cut_extrude2, mode=Mode.SUBTRACT)

    # Sketch16 → Cut-Extrude3 (cut)
    with BuildSketch(Plane(origin=(0, 0, -15.5), x_dir=(-1, 0, 0), z_dir=(0, 0, -1))):
        with Locations((-355.115432636, 132.94910347)):
            Rectangle(SKETCH16_W, SKETCH16_H)
    extrude(amount=-CUT_EXTRUDE3_DEPTH, mode=Mode.SUBTRACT)

    # Sketch17 → Cut-Extrude4 (cut)
    with BuildSketch(Plane.XY.offset(15.5)):
        with Locations((374.633368208, 137.754171164)):
            Rectangle(SKETCH17_W, SKETCH17_H)
    extrude(amount=-CUT_EXTRUDE4_DEPTH, mode=Mode.SUBTRACT)


with BuildPart() as body_2:
    # Sketch10 → Boss-Extrude8 (new, symmetric)
    with BuildSketch(Plane.XY):
        with BuildLine():
            Line((519.869775561, 153.534720699), (518.91663693, 157.299936474))
            Line((518.91663693, 157.299936474), (460.96580818, 162.160943491))
            Line((460.96580818, 162.160943491), (457.414176457, 176.191074428))
            Line((457.414176457, 176.191074428), (455.046590192, 174.936861902))
            Line((455.046590192, 174.936861902), (455.046590192, 162.160943491))
            ThreePointArc((455.046590192, 162.160943491), (452.846921386, 161.249810839), (451.935788734, 159.050142033))
            ThreePointArc((451.935788734, 159.050142033), (452.846921386, 156.850473227), (455.046590192, 155.939340575))
            Line((455.046590192, 155.939340575), (460.96580818, 152.816904347))
            Line((460.96580818, 152.816904347), (519.869775561, 153.534720699))
        make_face()
    extrude(amount=BOSS_EXTRUDE8_DEPTH, both=True)


solid = Compound([part.part, body_2.part])
